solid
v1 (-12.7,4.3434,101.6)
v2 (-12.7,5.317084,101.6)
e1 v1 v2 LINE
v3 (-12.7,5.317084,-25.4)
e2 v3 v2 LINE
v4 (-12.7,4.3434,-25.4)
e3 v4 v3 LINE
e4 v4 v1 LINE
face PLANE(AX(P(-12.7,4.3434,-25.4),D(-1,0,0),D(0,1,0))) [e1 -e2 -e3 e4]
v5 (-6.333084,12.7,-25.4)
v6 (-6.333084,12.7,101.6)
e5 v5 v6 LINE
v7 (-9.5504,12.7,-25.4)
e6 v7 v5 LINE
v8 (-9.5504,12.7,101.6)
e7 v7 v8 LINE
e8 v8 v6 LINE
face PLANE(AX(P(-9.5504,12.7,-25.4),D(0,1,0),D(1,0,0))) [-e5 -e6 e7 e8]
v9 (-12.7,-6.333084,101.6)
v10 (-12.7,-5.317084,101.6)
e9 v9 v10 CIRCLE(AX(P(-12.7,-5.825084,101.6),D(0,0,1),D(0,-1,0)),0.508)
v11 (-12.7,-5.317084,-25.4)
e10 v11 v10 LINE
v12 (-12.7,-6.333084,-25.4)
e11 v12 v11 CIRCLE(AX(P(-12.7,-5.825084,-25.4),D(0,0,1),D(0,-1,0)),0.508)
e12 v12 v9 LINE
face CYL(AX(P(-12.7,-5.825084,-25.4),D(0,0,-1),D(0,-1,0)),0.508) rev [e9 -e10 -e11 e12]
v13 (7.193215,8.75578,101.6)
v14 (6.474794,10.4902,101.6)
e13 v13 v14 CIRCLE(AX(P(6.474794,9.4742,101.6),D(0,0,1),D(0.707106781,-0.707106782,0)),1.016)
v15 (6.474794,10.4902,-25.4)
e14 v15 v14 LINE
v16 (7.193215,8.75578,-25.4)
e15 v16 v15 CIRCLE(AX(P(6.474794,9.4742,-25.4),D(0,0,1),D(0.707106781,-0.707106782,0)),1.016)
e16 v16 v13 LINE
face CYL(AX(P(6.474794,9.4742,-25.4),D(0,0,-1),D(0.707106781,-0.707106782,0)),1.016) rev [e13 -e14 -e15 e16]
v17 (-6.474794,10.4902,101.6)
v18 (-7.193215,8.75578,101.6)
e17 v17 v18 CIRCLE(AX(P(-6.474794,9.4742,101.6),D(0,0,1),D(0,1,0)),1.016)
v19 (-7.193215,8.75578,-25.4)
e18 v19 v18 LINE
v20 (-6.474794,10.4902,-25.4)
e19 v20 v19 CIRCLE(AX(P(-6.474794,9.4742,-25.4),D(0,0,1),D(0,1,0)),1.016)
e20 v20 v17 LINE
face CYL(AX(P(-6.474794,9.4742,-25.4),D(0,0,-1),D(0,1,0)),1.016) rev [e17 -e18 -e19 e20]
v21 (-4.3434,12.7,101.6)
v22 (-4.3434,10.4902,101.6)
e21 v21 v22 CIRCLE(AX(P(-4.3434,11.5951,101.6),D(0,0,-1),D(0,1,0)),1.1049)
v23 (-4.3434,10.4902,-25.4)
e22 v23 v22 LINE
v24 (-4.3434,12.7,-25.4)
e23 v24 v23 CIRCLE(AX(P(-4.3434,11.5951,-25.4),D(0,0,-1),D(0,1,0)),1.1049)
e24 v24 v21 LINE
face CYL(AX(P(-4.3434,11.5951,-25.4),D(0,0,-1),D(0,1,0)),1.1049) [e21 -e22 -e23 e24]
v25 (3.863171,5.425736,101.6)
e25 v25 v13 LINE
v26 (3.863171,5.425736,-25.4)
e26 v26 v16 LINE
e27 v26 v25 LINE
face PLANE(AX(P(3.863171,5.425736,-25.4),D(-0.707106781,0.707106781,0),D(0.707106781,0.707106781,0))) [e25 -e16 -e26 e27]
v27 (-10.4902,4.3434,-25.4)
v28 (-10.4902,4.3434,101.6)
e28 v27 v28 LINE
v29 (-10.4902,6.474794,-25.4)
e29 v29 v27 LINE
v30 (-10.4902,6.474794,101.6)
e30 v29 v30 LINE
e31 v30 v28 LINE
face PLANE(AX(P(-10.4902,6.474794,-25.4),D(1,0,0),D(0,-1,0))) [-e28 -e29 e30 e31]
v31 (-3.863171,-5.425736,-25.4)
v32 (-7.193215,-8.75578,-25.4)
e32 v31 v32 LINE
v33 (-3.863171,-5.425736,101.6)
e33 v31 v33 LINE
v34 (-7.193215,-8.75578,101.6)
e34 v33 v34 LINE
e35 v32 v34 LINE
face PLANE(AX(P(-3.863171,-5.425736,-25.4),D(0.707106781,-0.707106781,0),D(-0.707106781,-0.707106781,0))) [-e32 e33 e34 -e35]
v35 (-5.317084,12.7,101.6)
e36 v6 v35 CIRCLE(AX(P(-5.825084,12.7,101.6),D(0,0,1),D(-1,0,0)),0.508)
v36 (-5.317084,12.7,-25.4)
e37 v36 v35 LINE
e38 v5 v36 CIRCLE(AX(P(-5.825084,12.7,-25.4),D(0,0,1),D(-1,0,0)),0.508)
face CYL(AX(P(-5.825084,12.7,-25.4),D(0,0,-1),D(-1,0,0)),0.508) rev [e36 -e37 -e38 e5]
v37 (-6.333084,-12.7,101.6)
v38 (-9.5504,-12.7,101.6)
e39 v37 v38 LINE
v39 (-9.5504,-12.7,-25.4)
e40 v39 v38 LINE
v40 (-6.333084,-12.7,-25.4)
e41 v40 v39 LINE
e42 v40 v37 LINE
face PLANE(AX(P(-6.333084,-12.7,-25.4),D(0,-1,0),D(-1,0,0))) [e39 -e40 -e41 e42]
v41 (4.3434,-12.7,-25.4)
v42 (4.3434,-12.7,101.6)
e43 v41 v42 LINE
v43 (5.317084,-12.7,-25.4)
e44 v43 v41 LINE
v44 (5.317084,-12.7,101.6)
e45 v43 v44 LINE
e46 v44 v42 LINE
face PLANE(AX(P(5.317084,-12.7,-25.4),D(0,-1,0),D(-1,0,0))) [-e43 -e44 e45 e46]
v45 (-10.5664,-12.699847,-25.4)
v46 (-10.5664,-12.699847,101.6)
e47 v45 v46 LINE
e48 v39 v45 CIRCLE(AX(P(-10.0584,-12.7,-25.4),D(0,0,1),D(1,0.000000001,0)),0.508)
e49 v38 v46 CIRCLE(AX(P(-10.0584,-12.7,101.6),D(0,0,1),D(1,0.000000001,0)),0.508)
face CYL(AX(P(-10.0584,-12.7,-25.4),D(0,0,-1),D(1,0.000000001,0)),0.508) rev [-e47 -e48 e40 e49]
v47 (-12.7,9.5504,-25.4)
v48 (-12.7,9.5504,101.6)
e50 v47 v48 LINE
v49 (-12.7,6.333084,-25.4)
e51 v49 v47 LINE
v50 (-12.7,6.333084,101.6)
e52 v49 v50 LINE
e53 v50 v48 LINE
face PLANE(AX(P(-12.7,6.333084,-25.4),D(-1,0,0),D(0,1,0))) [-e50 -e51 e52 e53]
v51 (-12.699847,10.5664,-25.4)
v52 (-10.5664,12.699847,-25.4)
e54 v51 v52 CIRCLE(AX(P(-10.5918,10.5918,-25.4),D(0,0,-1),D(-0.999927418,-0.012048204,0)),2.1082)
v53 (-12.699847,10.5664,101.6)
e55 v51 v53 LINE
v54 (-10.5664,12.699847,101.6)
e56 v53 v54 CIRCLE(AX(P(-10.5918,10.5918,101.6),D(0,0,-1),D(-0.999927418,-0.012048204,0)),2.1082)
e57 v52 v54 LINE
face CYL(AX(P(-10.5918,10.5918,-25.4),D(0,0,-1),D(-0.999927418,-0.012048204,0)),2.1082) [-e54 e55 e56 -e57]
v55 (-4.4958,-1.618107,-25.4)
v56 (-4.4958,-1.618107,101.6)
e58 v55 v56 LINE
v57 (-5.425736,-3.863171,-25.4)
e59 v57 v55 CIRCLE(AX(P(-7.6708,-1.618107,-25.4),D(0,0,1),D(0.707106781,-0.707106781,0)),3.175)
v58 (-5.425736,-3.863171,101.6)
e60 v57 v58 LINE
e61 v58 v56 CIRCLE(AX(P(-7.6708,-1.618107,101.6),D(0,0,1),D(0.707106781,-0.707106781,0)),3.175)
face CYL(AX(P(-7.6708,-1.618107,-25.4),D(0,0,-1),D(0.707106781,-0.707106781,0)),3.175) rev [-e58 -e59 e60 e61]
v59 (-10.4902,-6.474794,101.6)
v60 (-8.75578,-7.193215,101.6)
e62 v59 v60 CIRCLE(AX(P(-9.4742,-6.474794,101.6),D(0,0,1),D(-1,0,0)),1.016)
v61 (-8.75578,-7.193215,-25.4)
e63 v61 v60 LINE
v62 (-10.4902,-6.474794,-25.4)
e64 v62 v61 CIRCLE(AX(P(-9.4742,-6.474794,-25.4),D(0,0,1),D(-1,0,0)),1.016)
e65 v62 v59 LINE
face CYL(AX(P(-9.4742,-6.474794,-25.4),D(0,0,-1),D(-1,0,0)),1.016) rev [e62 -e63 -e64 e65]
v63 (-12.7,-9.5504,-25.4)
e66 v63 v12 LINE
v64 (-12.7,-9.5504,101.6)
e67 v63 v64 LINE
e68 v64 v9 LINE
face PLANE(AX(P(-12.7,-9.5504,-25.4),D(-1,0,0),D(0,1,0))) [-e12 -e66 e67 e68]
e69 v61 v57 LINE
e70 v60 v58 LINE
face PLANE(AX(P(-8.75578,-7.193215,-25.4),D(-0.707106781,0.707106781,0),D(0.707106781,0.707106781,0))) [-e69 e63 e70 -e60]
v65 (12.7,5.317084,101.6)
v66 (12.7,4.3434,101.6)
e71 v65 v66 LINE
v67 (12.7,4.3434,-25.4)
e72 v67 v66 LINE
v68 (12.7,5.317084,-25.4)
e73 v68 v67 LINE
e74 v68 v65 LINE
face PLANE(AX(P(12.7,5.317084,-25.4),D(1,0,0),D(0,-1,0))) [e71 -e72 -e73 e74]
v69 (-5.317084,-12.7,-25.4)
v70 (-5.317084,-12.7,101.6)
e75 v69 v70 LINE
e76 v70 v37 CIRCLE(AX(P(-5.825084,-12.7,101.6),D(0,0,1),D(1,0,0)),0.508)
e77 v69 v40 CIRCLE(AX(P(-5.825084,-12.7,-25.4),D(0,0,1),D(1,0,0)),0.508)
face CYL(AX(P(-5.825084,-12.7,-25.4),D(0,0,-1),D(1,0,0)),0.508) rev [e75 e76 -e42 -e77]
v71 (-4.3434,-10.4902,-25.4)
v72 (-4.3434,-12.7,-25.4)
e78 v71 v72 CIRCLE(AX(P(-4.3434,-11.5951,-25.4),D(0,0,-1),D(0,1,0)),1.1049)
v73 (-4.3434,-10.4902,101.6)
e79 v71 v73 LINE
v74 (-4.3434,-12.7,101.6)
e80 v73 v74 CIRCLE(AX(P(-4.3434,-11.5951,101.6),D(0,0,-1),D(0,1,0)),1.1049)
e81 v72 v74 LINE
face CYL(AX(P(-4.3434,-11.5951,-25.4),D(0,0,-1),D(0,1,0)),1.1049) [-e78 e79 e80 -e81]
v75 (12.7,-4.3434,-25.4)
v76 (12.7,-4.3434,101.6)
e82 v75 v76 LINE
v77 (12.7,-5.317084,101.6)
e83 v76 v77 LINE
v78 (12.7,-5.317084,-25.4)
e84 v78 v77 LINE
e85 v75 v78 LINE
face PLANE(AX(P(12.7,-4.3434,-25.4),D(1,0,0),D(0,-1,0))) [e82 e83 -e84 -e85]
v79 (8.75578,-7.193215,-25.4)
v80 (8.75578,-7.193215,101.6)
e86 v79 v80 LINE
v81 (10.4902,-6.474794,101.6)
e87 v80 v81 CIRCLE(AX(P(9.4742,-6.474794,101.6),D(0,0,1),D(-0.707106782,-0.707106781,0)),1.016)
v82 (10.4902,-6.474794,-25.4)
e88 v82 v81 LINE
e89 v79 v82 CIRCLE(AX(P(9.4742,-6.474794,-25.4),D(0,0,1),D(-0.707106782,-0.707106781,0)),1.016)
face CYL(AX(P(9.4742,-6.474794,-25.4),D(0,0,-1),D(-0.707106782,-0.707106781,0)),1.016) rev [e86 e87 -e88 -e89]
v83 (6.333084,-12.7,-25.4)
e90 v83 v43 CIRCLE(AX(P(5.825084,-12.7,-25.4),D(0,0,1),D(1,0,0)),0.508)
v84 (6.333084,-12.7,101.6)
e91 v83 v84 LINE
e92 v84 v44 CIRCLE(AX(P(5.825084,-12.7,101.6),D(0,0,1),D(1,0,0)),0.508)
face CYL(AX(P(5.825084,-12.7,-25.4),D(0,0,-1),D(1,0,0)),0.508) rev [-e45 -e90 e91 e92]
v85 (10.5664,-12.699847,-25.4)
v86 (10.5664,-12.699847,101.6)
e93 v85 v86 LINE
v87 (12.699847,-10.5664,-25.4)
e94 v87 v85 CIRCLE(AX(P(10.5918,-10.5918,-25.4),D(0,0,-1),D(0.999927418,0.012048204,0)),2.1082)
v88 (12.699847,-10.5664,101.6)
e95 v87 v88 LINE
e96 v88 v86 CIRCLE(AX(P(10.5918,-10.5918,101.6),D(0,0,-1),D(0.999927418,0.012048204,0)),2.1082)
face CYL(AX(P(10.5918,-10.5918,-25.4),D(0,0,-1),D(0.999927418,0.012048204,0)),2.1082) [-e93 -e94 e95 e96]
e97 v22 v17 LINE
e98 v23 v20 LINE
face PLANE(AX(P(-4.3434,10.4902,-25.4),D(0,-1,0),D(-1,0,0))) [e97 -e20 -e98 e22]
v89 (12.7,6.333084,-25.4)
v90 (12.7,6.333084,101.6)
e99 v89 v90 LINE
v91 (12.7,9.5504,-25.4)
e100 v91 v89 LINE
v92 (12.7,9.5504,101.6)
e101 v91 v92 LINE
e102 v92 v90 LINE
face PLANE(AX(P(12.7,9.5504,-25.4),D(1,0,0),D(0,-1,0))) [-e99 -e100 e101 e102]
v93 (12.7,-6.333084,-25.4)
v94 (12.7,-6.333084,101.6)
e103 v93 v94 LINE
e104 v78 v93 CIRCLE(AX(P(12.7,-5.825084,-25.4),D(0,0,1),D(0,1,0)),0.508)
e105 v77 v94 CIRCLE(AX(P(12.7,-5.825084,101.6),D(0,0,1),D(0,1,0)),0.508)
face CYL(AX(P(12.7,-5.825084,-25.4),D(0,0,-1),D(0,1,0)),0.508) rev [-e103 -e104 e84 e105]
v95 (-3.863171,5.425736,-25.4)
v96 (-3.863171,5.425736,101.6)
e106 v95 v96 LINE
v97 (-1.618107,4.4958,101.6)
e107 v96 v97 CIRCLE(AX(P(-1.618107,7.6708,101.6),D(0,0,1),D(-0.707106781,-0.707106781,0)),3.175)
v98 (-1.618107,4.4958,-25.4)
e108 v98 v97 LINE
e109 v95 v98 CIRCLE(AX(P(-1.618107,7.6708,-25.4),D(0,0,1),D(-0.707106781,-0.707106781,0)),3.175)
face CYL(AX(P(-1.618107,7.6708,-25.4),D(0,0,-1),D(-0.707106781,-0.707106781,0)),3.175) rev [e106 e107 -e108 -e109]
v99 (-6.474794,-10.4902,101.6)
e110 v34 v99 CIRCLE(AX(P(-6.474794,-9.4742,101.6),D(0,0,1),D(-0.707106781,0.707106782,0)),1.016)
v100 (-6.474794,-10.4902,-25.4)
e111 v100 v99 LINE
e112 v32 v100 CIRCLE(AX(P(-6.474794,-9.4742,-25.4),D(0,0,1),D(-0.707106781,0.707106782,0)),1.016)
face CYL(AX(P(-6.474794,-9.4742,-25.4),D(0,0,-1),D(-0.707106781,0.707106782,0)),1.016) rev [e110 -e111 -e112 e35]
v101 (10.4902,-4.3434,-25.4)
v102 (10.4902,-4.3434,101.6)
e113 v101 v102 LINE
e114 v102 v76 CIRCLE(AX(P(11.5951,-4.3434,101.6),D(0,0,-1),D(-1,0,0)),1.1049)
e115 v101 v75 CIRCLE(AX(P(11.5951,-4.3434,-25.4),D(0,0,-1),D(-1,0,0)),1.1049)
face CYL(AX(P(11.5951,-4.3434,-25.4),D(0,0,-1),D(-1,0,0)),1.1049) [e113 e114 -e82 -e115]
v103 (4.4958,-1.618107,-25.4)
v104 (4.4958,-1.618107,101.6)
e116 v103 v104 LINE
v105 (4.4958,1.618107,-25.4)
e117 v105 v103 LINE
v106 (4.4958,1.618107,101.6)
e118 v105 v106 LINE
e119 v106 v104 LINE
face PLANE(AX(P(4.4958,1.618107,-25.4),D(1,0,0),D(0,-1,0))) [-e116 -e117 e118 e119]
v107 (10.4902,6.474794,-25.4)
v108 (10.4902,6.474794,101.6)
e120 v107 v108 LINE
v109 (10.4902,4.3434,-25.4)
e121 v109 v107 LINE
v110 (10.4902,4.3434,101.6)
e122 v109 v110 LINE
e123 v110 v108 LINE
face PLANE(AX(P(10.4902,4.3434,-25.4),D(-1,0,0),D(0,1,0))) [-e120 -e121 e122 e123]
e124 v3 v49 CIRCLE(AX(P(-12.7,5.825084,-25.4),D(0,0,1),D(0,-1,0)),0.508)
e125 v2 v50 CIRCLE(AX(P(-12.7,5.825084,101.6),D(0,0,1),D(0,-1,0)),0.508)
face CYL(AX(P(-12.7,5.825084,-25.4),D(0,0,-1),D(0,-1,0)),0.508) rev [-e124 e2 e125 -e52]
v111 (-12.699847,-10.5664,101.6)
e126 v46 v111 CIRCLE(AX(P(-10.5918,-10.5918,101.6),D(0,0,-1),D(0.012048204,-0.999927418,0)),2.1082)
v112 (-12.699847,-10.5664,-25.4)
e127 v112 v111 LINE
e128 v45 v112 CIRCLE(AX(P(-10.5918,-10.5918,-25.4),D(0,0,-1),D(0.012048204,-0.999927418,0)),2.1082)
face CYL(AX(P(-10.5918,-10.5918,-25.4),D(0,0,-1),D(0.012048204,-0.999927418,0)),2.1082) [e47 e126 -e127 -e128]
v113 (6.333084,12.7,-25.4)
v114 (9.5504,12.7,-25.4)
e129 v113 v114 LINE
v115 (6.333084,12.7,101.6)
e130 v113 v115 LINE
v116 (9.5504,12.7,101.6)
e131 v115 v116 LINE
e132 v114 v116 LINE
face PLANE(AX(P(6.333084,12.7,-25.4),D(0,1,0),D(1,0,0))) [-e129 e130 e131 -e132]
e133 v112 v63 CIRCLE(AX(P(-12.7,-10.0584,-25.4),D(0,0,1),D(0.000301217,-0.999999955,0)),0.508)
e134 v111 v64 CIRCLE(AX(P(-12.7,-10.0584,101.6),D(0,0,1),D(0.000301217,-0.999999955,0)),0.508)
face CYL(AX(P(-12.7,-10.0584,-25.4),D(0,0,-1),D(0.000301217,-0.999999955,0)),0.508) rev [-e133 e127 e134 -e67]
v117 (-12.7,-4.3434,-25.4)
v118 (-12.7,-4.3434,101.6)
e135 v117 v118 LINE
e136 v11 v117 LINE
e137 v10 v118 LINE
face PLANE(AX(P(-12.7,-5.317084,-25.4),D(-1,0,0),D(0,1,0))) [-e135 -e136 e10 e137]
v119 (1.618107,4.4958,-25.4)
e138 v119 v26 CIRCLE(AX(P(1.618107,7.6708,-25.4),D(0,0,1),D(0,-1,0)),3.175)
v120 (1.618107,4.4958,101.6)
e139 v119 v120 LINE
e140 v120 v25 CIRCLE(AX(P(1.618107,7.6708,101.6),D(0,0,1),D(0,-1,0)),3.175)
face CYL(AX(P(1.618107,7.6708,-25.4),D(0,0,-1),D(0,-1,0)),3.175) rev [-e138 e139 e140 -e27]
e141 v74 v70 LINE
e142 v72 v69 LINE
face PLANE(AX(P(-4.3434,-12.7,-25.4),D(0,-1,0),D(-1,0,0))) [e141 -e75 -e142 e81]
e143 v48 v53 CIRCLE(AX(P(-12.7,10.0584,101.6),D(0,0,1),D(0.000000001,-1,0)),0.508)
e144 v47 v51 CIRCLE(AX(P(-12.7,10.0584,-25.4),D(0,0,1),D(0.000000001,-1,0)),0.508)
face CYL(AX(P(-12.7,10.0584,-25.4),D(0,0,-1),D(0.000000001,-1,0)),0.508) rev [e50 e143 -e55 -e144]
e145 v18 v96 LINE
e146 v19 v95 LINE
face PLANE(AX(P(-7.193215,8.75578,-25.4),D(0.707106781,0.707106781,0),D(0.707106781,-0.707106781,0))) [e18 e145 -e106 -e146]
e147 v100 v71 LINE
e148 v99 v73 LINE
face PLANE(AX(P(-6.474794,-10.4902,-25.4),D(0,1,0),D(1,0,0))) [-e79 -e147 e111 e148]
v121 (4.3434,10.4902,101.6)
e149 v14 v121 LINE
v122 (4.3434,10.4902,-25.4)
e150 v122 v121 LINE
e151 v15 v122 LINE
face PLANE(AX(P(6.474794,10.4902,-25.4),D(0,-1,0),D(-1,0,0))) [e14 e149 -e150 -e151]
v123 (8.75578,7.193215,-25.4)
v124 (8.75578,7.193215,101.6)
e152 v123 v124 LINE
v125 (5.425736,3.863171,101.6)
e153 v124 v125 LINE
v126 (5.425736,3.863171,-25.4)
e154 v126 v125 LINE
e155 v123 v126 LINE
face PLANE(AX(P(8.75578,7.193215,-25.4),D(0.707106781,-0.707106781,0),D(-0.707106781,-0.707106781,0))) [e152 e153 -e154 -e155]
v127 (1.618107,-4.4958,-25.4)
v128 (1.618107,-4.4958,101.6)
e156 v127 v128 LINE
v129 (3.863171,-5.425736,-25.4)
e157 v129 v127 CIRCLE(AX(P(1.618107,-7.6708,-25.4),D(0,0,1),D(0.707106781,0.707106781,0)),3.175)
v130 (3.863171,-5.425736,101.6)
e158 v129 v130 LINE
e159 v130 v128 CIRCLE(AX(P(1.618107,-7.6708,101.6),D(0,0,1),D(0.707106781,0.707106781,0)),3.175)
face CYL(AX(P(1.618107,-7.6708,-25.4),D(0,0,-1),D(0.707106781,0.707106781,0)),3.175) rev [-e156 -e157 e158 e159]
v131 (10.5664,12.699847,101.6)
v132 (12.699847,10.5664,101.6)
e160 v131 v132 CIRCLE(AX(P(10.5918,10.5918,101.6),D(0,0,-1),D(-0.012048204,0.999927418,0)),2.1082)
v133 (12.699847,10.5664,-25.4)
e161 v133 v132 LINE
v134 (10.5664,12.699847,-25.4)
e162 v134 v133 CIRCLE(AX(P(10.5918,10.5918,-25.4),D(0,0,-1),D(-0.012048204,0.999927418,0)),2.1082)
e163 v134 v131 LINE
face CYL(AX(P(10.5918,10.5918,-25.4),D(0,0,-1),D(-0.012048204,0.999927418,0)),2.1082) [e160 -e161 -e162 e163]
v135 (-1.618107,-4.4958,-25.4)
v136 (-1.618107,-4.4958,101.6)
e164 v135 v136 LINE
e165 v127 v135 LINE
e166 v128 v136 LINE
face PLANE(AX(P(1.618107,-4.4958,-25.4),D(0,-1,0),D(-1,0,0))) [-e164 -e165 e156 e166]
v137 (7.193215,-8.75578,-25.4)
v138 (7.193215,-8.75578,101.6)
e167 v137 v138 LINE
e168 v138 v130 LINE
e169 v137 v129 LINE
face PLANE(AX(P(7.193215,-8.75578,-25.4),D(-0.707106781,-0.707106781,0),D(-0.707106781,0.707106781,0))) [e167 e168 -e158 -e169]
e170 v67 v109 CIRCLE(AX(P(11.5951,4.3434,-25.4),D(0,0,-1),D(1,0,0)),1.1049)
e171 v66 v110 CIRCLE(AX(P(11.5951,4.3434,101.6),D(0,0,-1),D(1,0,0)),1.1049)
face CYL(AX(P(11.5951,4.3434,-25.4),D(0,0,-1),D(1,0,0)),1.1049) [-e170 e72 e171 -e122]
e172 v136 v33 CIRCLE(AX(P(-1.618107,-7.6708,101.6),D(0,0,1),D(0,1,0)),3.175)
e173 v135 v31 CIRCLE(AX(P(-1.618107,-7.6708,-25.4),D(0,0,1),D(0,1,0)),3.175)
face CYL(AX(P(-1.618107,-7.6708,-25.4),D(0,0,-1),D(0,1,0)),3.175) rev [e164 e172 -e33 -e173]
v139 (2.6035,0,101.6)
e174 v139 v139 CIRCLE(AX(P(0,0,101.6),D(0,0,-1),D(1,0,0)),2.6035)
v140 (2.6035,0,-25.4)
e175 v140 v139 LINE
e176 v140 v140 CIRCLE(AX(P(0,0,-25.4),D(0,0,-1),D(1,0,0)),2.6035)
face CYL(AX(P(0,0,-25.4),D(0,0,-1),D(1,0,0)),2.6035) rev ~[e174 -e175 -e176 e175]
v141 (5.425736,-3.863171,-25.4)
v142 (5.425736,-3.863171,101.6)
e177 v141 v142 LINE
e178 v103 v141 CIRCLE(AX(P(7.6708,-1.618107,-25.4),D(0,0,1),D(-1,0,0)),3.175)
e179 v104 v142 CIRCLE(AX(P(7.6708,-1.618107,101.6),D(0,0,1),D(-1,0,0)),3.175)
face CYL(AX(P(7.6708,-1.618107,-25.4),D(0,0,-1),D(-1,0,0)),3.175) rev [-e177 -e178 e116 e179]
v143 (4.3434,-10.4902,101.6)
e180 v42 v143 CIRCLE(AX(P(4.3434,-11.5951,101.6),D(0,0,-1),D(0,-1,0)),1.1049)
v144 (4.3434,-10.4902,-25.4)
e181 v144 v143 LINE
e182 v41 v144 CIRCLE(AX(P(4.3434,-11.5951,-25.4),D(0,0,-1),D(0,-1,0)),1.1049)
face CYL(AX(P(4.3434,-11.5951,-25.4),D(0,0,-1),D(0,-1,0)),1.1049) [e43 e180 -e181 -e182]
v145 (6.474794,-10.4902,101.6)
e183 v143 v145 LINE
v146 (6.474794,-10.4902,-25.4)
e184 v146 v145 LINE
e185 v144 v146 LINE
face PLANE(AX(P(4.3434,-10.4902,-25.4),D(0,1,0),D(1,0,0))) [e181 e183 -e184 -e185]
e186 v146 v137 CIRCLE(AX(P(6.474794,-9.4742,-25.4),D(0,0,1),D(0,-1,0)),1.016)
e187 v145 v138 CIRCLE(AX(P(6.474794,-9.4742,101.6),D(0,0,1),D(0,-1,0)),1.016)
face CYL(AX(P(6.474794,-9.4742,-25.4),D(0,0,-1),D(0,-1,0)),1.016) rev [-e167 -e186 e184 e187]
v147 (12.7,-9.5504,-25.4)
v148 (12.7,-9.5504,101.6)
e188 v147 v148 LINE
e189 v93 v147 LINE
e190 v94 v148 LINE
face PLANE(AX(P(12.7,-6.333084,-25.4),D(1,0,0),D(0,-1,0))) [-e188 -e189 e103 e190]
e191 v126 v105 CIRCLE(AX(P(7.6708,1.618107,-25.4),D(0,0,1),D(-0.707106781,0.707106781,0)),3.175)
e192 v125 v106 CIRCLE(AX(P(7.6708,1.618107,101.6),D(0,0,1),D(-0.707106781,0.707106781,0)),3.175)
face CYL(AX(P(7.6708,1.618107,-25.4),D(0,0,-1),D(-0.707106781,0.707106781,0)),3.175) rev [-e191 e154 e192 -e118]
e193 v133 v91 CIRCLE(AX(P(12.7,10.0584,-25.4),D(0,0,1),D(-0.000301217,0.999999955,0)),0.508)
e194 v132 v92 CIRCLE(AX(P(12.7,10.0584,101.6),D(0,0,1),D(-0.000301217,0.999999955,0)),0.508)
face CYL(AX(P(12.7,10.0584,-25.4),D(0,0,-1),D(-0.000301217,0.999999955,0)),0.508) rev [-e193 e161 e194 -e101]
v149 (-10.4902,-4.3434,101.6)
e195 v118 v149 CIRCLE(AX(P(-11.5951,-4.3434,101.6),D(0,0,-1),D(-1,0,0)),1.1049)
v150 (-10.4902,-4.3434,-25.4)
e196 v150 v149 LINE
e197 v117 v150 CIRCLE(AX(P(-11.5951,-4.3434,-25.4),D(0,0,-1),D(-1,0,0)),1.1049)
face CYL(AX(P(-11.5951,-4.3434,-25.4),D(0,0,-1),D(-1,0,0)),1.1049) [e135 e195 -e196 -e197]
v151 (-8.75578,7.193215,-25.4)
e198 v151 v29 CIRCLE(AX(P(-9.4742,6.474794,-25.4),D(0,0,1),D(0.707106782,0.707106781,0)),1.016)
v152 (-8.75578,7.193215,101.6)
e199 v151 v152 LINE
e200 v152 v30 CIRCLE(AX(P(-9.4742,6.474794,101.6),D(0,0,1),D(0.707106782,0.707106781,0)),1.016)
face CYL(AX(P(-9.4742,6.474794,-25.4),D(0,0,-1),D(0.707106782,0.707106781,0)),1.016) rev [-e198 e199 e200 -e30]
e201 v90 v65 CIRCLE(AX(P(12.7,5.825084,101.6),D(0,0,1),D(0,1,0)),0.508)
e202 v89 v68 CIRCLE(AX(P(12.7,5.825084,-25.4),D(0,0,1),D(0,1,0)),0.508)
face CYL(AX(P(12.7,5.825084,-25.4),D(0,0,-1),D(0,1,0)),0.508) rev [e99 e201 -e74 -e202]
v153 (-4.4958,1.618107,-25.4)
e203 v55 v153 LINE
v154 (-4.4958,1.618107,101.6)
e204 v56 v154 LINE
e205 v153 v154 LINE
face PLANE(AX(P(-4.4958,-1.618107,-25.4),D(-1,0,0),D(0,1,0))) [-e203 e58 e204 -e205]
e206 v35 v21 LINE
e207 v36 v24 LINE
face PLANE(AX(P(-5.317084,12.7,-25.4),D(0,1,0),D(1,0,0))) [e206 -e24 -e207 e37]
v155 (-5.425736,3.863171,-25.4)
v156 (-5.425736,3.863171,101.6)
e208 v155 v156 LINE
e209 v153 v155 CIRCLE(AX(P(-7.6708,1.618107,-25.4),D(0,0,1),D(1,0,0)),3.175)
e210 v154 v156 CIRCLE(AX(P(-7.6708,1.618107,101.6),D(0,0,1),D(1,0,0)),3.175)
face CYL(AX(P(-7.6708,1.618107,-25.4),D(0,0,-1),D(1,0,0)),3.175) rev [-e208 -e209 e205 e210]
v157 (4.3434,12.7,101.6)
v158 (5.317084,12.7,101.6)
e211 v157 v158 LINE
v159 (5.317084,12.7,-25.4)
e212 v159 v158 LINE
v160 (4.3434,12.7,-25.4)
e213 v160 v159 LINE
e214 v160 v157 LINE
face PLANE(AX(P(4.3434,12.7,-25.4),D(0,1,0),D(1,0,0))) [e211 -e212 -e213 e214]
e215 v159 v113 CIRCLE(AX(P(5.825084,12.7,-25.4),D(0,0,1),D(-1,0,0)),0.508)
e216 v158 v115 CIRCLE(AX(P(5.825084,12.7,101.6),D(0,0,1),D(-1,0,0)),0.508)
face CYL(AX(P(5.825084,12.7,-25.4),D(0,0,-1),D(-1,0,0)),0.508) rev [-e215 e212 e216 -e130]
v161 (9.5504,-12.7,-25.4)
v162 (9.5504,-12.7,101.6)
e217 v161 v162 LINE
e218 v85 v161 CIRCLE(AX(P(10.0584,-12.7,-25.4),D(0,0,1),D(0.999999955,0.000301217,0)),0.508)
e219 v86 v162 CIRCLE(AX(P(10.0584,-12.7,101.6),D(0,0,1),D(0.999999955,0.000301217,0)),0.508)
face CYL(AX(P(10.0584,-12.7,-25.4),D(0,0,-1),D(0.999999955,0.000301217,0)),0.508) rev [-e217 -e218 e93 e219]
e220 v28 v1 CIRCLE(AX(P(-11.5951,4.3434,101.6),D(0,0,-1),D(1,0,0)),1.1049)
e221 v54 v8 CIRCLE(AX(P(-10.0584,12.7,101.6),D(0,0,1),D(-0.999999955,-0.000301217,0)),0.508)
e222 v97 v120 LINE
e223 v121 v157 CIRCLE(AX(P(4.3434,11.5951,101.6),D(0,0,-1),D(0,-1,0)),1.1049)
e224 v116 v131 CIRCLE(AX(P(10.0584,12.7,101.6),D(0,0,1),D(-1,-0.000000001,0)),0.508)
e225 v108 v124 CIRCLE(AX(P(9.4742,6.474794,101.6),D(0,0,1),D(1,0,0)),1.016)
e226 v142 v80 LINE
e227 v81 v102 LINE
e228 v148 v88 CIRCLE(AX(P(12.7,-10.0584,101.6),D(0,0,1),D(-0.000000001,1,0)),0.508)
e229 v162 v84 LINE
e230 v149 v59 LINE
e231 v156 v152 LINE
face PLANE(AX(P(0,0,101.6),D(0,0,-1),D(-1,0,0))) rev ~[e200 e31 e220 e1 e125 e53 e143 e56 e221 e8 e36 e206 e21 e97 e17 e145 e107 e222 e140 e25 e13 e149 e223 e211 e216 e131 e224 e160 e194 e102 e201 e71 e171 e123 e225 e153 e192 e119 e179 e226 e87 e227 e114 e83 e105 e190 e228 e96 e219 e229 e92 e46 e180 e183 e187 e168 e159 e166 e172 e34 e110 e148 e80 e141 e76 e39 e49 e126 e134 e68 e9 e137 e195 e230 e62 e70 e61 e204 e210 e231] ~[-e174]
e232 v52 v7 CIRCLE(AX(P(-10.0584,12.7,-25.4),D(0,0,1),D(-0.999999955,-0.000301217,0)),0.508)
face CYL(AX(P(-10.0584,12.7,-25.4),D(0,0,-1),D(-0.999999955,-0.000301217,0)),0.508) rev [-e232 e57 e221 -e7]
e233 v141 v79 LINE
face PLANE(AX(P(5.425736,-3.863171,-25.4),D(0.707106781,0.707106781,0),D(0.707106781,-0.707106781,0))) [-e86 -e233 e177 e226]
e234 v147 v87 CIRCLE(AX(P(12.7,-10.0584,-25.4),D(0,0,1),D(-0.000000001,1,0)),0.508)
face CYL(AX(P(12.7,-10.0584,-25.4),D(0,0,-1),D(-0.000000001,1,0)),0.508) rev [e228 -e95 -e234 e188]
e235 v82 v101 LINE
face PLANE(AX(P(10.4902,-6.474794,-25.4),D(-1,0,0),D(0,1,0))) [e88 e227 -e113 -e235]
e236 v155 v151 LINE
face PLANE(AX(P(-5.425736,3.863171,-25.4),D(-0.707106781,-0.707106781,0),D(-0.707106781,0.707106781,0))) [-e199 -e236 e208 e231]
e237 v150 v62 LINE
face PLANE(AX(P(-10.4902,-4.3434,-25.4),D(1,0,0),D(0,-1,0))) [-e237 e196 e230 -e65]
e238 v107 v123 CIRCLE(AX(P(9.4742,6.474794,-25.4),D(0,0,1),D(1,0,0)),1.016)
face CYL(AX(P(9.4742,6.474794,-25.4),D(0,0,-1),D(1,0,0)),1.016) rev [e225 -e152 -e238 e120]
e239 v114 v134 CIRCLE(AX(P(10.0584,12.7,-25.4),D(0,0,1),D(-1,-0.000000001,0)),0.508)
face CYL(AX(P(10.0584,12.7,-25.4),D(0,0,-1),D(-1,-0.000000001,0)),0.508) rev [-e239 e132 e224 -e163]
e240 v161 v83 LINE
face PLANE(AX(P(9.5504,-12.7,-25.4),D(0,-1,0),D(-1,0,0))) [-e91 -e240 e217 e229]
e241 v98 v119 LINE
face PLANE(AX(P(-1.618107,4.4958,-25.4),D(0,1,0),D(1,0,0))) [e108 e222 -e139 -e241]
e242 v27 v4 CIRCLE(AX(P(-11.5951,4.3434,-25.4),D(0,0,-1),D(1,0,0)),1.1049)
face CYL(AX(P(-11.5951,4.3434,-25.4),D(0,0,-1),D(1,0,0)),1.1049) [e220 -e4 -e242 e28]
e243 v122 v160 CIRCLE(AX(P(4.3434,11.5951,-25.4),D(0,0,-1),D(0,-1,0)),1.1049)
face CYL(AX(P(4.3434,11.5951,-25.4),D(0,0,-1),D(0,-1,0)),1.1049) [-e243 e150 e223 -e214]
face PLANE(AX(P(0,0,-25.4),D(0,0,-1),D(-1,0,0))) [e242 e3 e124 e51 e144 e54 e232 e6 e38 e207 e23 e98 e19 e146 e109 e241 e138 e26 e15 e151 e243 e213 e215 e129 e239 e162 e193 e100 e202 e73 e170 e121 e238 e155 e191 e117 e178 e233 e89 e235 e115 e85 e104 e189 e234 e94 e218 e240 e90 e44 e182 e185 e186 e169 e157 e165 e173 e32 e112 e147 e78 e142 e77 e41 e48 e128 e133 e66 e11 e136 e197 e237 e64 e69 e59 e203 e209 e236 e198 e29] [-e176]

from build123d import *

# Parameters (mm, degrees)
SKETCH1_R           = 2.6035
BOSS_EXTRUDE1_DEPTH = 127


with BuildPart() as part:
    # Sketch1 → Boss-Extrude1 (new body)
    with BuildSketch(Plane(origin=(0, 0, -25.4), x_dir=(-1, 0, 0), z_dir=(0, 0, -1))):
        with BuildLine():
            Line((12.7, -9.5504), (12.7, -6.3330836))
            ThreePointArc((12.7, -6.3330836), (12.192, -5.8250836), (12.7, -5.3170836))
            Line((12.7, -5.3170836), (12.7, -4.3434))
            ThreePointArc((12.7, -4.3434), (11.5951, -3.2385), (10.4902, -4.3434))
            Line((10.4902, -4.3434), (10.4902, -6.474794456))
            ThreePointArc((10.4902, -6.474794456), (9.863006367, -7.413456061), (8.75577951, -7.193214945))
            Line((8.75577951, -7.193214945), (5.42573597, -3.863171405))
            ThreePointArc((5.42573597, -3.863171405), (4.737482484, -2.833127272), (4.4958, -1.618107374))
            Line((4.4958, -1.618107374), (4.4958, 1.618107374))
            ThreePointArc((4.4958, 1.618107374), (4.737482484, 2.833127272), (5.42573597, 3.863171405))
            Line((5.42573597, 3.863171405), (8.75577951, 7.193214945))
            ThreePointArc((8.75577951, 7.193214945), (9.863006367, 7.413456061), (10.4902, 6.474794456))
            Line((10.4902, 6.474794456), (10.4902, 4.343399971))
            ThreePointArc((10.4902, 4.343399971), (11.5951, 3.238499971), (12.7, 4.343399971))
            Line((12.7, 4.343399971), (12.7, 5.3170836))
            ThreePointArc((12.7, 5.3170836), (12.192, 5.8250836), (12.7, 6.3330836))
            Line((12.7, 6.3330836), (12.7, 9.5504))
            ThreePointArc((12.7, 9.5504), (12.192000006, 10.058323491), (12.699846982, 10.566399977))
            ThreePointArc((12.699846982, 10.566399977), (12.082522516, 12.082522516), (10.566399977, 12.699846982))
            ThreePointArc((10.566399977, 12.699846982), (10.058323491, 12.192000006), (9.5504, 12.7))
            Line((9.5504, 12.7), (6.3330836, 12.7))
            ThreePointArc((6.3330836, 12.7), (5.8250836, 12.192), (5.3170836, 12.7))
            Line((5.3170836, 12.7), (4.3434, 12.7))
            ThreePointArc((4.3434, 12.7), (3.2385, 11.5951), (4.3434, 10.4902))
            Line((4.3434, 10.4902), (6.474794456, 10.4902))
            ThreePointArc((6.474794456, 10.4902), (7.413456061, 9.863006367), (7.193214945, 8.75577951))
            Line((7.193214945, 8.75577951), (3.863171405, 5.42573597))
            ThreePointArc((3.863171405, 5.42573597), (2.833127272, 4.737482484), (1.618107374, 4.4958))
            Line((1.618107374, 4.4958), (-1.618107374, 4.4958))
            ThreePointArc((-1.618107374, 4.4958), (-2.833127272, 4.737482484), (-3.863171405, 5.42573597))
            Line((-3.863171405, 5.42573597), (-7.193214945, 8.75577951))
            ThreePointArc((-7.193214945, 8.75577951), (-7.413456061, 9.863006367), (-6.474794456, 10.4902))
            Line((-6.474794456, 10.4902), (-4.343399971, 10.4902))
            ThreePointArc((-4.343399971, 10.4902), (-3.238499971, 11.5951), (-4.343399971, 12.7))
            Line((-4.343399971, 12.7), (-5.3170836, 12.7))
            ThreePointArc((-5.3170836, 12.7), (-5.8250836, 12.192), (-6.3330836, 12.7))
            Line((-6.3330836, 12.7), (-9.5504, 12.7))
            ThreePointArc((-9.5504, 12.7), (-10.058323491, 12.192000006), (-10.566399977, 12.699846982))
            ThreePointArc((-10.566399977, 12.699846982), (-12.082522516, 12.082522516), (-12.699846982, 10.566399977))
            ThreePointArc((-12.699846982, 10.566399977), (-12.192000006, 10.058323491), (-12.7, 9.5504))
            Line((-12.7, 9.5504), (-12.7, 6.3330836))
            ThreePointArc((-12.7, 6.3330836), (-12.192, 5.8250836), (-12.7, 5.3170836))
            Line((-12.7, 5.3170836), (-12.7, 4.3434))
            ThreePointArc((-12.7, 4.3434), (-11.5951, 3.2385), (-10.4902, 4.3434))
            Line((-10.4902, 4.3434), (-10.4902, 6.474794456))
            ThreePointArc((-10.4902, 6.474794456), (-9.863006367, 7.413456061), (-8.75577951, 7.193214945))
            Line((-8.75577951, 7.193214945), (-5.42573597, 3.863171405))
            ThreePointArc((-5.42573597, 3.863171405), (-4.737482484, 2.833127272), (-4.4958, 1.618107374))
            Line((-4.4958, 1.618107374), (-4.4958, -1.618107374))
            ThreePointArc((-4.4958, -1.618107374), (-4.737482484, -2.833127272), (-5.42573597, -3.863171405))
            Line((-5.42573597, -3.863171405), (-8.75577951, -7.193214945))
            ThreePointArc((-8.75577951, -7.193214945), (-9.863006367, -7.413456061), (-10.4902, -6.474794456))
            Line((-10.4902, -6.474794456), (-10.4902, -4.343399971))
            ThreePointArc((-10.4902, -4.343399971), (-11.5951, -3.238499971), (-12.7, -4.343399971))
            Line((-12.7, -4.343399971), (-12.7, -5.3170836))
            ThreePointArc((-12.7, -5.3170836), (-12.192, -5.8250836), (-12.7, -6.3330836))
            Line((-12.7, -6.3330836), (-12.7, -9.5504))
            ThreePointArc((-12.7, -9.5504), (-12.192000006, -10.058323491), (-12.699846982, -10.566399977))
            ThreePointArc((-12.699846982, -10.566399977), (-12.082522516, -12.082522516), (-10.566399977, -12.699846982))
            ThreePointArc((-10.566399977, -12.699846982), (-10.058323491, -12.192000006), (-9.5504, -12.7))
            Line((-9.5504, -12.7), (-6.3330836, -12.7))
            ThreePointArc((-6.3330836, -12.7), (-5.8250836, -12.192), (-5.3170836, -12.7))
            Line((-5.3170836, -12.7), (-4.3434, -12.7))
            ThreePointArc((-4.3434, -12.7), (-3.2385, -11.5951), (-4.3434, -10.4902))
            Line((-4.3434, -10.4902), (-6.474794456, -10.4902))
            ThreePointArc((-6.474794456, -10.4902), (-7.413456061, -9.863006367), (-7.193214945, -8.75577951))
            Line((-7.193214945, -8.75577951), (-3.863171405, -5.42573597))
            ThreePointArc((-3.863171405, -5.42573597), (-2.833127272, -4.737482484), (-1.618107374, -4.4958))
            Line((-1.618107374, -4.4958), (1.618107374, -4.4958))
            ThreePointArc((1.618107374, -4.4958), (2.833127272, -4.737482484), (3.863171405, -5.42573597))
            Line((3.863171405, -5.42573597), (7.193214945, -8.75577951))
            ThreePointArc((7.193214945, -8.75577951), (7.413456061, -9.863006367), (6.474794456, -10.4902))
            Line((6.474794456, -10.4902), (4.343399971, -10.4902))
            ThreePointArc((4.343399971, -10.4902), (3.238499971, -11.5951), (4.343399971, -12.7))
            Line((4.343399971, -12.7), (5.3170836, -12.7))
            ThreePointArc((5.3170836, -12.7), (5.8250836, -12.192), (6.3330836, -12.7))
            Line((6.3330836, -12.7), (9.5504, -12.7))
            ThreePointArc((9.5504, -12.7), (10.058323491, -12.192000006), (10.566399977, -12.699846982))
            ThreePointArc((10.566399977, -12.699846982), (12.082522516, -12.082522516), (12.699846982, -10.566399977))
            ThreePointArc((12.699846982, -10.566399977), (12.192000006, -10.058323491), (12.7, -9.5504))
        make_face()
        with Locations(Location((0, 0, 0), (0, 0, 180))):
            Circle(SKETCH1_R, mode=Mode.SUBTRACT)
    extrude(amount=-BOSS_EXTRUDE1_DEPTH)


solid = part.part
